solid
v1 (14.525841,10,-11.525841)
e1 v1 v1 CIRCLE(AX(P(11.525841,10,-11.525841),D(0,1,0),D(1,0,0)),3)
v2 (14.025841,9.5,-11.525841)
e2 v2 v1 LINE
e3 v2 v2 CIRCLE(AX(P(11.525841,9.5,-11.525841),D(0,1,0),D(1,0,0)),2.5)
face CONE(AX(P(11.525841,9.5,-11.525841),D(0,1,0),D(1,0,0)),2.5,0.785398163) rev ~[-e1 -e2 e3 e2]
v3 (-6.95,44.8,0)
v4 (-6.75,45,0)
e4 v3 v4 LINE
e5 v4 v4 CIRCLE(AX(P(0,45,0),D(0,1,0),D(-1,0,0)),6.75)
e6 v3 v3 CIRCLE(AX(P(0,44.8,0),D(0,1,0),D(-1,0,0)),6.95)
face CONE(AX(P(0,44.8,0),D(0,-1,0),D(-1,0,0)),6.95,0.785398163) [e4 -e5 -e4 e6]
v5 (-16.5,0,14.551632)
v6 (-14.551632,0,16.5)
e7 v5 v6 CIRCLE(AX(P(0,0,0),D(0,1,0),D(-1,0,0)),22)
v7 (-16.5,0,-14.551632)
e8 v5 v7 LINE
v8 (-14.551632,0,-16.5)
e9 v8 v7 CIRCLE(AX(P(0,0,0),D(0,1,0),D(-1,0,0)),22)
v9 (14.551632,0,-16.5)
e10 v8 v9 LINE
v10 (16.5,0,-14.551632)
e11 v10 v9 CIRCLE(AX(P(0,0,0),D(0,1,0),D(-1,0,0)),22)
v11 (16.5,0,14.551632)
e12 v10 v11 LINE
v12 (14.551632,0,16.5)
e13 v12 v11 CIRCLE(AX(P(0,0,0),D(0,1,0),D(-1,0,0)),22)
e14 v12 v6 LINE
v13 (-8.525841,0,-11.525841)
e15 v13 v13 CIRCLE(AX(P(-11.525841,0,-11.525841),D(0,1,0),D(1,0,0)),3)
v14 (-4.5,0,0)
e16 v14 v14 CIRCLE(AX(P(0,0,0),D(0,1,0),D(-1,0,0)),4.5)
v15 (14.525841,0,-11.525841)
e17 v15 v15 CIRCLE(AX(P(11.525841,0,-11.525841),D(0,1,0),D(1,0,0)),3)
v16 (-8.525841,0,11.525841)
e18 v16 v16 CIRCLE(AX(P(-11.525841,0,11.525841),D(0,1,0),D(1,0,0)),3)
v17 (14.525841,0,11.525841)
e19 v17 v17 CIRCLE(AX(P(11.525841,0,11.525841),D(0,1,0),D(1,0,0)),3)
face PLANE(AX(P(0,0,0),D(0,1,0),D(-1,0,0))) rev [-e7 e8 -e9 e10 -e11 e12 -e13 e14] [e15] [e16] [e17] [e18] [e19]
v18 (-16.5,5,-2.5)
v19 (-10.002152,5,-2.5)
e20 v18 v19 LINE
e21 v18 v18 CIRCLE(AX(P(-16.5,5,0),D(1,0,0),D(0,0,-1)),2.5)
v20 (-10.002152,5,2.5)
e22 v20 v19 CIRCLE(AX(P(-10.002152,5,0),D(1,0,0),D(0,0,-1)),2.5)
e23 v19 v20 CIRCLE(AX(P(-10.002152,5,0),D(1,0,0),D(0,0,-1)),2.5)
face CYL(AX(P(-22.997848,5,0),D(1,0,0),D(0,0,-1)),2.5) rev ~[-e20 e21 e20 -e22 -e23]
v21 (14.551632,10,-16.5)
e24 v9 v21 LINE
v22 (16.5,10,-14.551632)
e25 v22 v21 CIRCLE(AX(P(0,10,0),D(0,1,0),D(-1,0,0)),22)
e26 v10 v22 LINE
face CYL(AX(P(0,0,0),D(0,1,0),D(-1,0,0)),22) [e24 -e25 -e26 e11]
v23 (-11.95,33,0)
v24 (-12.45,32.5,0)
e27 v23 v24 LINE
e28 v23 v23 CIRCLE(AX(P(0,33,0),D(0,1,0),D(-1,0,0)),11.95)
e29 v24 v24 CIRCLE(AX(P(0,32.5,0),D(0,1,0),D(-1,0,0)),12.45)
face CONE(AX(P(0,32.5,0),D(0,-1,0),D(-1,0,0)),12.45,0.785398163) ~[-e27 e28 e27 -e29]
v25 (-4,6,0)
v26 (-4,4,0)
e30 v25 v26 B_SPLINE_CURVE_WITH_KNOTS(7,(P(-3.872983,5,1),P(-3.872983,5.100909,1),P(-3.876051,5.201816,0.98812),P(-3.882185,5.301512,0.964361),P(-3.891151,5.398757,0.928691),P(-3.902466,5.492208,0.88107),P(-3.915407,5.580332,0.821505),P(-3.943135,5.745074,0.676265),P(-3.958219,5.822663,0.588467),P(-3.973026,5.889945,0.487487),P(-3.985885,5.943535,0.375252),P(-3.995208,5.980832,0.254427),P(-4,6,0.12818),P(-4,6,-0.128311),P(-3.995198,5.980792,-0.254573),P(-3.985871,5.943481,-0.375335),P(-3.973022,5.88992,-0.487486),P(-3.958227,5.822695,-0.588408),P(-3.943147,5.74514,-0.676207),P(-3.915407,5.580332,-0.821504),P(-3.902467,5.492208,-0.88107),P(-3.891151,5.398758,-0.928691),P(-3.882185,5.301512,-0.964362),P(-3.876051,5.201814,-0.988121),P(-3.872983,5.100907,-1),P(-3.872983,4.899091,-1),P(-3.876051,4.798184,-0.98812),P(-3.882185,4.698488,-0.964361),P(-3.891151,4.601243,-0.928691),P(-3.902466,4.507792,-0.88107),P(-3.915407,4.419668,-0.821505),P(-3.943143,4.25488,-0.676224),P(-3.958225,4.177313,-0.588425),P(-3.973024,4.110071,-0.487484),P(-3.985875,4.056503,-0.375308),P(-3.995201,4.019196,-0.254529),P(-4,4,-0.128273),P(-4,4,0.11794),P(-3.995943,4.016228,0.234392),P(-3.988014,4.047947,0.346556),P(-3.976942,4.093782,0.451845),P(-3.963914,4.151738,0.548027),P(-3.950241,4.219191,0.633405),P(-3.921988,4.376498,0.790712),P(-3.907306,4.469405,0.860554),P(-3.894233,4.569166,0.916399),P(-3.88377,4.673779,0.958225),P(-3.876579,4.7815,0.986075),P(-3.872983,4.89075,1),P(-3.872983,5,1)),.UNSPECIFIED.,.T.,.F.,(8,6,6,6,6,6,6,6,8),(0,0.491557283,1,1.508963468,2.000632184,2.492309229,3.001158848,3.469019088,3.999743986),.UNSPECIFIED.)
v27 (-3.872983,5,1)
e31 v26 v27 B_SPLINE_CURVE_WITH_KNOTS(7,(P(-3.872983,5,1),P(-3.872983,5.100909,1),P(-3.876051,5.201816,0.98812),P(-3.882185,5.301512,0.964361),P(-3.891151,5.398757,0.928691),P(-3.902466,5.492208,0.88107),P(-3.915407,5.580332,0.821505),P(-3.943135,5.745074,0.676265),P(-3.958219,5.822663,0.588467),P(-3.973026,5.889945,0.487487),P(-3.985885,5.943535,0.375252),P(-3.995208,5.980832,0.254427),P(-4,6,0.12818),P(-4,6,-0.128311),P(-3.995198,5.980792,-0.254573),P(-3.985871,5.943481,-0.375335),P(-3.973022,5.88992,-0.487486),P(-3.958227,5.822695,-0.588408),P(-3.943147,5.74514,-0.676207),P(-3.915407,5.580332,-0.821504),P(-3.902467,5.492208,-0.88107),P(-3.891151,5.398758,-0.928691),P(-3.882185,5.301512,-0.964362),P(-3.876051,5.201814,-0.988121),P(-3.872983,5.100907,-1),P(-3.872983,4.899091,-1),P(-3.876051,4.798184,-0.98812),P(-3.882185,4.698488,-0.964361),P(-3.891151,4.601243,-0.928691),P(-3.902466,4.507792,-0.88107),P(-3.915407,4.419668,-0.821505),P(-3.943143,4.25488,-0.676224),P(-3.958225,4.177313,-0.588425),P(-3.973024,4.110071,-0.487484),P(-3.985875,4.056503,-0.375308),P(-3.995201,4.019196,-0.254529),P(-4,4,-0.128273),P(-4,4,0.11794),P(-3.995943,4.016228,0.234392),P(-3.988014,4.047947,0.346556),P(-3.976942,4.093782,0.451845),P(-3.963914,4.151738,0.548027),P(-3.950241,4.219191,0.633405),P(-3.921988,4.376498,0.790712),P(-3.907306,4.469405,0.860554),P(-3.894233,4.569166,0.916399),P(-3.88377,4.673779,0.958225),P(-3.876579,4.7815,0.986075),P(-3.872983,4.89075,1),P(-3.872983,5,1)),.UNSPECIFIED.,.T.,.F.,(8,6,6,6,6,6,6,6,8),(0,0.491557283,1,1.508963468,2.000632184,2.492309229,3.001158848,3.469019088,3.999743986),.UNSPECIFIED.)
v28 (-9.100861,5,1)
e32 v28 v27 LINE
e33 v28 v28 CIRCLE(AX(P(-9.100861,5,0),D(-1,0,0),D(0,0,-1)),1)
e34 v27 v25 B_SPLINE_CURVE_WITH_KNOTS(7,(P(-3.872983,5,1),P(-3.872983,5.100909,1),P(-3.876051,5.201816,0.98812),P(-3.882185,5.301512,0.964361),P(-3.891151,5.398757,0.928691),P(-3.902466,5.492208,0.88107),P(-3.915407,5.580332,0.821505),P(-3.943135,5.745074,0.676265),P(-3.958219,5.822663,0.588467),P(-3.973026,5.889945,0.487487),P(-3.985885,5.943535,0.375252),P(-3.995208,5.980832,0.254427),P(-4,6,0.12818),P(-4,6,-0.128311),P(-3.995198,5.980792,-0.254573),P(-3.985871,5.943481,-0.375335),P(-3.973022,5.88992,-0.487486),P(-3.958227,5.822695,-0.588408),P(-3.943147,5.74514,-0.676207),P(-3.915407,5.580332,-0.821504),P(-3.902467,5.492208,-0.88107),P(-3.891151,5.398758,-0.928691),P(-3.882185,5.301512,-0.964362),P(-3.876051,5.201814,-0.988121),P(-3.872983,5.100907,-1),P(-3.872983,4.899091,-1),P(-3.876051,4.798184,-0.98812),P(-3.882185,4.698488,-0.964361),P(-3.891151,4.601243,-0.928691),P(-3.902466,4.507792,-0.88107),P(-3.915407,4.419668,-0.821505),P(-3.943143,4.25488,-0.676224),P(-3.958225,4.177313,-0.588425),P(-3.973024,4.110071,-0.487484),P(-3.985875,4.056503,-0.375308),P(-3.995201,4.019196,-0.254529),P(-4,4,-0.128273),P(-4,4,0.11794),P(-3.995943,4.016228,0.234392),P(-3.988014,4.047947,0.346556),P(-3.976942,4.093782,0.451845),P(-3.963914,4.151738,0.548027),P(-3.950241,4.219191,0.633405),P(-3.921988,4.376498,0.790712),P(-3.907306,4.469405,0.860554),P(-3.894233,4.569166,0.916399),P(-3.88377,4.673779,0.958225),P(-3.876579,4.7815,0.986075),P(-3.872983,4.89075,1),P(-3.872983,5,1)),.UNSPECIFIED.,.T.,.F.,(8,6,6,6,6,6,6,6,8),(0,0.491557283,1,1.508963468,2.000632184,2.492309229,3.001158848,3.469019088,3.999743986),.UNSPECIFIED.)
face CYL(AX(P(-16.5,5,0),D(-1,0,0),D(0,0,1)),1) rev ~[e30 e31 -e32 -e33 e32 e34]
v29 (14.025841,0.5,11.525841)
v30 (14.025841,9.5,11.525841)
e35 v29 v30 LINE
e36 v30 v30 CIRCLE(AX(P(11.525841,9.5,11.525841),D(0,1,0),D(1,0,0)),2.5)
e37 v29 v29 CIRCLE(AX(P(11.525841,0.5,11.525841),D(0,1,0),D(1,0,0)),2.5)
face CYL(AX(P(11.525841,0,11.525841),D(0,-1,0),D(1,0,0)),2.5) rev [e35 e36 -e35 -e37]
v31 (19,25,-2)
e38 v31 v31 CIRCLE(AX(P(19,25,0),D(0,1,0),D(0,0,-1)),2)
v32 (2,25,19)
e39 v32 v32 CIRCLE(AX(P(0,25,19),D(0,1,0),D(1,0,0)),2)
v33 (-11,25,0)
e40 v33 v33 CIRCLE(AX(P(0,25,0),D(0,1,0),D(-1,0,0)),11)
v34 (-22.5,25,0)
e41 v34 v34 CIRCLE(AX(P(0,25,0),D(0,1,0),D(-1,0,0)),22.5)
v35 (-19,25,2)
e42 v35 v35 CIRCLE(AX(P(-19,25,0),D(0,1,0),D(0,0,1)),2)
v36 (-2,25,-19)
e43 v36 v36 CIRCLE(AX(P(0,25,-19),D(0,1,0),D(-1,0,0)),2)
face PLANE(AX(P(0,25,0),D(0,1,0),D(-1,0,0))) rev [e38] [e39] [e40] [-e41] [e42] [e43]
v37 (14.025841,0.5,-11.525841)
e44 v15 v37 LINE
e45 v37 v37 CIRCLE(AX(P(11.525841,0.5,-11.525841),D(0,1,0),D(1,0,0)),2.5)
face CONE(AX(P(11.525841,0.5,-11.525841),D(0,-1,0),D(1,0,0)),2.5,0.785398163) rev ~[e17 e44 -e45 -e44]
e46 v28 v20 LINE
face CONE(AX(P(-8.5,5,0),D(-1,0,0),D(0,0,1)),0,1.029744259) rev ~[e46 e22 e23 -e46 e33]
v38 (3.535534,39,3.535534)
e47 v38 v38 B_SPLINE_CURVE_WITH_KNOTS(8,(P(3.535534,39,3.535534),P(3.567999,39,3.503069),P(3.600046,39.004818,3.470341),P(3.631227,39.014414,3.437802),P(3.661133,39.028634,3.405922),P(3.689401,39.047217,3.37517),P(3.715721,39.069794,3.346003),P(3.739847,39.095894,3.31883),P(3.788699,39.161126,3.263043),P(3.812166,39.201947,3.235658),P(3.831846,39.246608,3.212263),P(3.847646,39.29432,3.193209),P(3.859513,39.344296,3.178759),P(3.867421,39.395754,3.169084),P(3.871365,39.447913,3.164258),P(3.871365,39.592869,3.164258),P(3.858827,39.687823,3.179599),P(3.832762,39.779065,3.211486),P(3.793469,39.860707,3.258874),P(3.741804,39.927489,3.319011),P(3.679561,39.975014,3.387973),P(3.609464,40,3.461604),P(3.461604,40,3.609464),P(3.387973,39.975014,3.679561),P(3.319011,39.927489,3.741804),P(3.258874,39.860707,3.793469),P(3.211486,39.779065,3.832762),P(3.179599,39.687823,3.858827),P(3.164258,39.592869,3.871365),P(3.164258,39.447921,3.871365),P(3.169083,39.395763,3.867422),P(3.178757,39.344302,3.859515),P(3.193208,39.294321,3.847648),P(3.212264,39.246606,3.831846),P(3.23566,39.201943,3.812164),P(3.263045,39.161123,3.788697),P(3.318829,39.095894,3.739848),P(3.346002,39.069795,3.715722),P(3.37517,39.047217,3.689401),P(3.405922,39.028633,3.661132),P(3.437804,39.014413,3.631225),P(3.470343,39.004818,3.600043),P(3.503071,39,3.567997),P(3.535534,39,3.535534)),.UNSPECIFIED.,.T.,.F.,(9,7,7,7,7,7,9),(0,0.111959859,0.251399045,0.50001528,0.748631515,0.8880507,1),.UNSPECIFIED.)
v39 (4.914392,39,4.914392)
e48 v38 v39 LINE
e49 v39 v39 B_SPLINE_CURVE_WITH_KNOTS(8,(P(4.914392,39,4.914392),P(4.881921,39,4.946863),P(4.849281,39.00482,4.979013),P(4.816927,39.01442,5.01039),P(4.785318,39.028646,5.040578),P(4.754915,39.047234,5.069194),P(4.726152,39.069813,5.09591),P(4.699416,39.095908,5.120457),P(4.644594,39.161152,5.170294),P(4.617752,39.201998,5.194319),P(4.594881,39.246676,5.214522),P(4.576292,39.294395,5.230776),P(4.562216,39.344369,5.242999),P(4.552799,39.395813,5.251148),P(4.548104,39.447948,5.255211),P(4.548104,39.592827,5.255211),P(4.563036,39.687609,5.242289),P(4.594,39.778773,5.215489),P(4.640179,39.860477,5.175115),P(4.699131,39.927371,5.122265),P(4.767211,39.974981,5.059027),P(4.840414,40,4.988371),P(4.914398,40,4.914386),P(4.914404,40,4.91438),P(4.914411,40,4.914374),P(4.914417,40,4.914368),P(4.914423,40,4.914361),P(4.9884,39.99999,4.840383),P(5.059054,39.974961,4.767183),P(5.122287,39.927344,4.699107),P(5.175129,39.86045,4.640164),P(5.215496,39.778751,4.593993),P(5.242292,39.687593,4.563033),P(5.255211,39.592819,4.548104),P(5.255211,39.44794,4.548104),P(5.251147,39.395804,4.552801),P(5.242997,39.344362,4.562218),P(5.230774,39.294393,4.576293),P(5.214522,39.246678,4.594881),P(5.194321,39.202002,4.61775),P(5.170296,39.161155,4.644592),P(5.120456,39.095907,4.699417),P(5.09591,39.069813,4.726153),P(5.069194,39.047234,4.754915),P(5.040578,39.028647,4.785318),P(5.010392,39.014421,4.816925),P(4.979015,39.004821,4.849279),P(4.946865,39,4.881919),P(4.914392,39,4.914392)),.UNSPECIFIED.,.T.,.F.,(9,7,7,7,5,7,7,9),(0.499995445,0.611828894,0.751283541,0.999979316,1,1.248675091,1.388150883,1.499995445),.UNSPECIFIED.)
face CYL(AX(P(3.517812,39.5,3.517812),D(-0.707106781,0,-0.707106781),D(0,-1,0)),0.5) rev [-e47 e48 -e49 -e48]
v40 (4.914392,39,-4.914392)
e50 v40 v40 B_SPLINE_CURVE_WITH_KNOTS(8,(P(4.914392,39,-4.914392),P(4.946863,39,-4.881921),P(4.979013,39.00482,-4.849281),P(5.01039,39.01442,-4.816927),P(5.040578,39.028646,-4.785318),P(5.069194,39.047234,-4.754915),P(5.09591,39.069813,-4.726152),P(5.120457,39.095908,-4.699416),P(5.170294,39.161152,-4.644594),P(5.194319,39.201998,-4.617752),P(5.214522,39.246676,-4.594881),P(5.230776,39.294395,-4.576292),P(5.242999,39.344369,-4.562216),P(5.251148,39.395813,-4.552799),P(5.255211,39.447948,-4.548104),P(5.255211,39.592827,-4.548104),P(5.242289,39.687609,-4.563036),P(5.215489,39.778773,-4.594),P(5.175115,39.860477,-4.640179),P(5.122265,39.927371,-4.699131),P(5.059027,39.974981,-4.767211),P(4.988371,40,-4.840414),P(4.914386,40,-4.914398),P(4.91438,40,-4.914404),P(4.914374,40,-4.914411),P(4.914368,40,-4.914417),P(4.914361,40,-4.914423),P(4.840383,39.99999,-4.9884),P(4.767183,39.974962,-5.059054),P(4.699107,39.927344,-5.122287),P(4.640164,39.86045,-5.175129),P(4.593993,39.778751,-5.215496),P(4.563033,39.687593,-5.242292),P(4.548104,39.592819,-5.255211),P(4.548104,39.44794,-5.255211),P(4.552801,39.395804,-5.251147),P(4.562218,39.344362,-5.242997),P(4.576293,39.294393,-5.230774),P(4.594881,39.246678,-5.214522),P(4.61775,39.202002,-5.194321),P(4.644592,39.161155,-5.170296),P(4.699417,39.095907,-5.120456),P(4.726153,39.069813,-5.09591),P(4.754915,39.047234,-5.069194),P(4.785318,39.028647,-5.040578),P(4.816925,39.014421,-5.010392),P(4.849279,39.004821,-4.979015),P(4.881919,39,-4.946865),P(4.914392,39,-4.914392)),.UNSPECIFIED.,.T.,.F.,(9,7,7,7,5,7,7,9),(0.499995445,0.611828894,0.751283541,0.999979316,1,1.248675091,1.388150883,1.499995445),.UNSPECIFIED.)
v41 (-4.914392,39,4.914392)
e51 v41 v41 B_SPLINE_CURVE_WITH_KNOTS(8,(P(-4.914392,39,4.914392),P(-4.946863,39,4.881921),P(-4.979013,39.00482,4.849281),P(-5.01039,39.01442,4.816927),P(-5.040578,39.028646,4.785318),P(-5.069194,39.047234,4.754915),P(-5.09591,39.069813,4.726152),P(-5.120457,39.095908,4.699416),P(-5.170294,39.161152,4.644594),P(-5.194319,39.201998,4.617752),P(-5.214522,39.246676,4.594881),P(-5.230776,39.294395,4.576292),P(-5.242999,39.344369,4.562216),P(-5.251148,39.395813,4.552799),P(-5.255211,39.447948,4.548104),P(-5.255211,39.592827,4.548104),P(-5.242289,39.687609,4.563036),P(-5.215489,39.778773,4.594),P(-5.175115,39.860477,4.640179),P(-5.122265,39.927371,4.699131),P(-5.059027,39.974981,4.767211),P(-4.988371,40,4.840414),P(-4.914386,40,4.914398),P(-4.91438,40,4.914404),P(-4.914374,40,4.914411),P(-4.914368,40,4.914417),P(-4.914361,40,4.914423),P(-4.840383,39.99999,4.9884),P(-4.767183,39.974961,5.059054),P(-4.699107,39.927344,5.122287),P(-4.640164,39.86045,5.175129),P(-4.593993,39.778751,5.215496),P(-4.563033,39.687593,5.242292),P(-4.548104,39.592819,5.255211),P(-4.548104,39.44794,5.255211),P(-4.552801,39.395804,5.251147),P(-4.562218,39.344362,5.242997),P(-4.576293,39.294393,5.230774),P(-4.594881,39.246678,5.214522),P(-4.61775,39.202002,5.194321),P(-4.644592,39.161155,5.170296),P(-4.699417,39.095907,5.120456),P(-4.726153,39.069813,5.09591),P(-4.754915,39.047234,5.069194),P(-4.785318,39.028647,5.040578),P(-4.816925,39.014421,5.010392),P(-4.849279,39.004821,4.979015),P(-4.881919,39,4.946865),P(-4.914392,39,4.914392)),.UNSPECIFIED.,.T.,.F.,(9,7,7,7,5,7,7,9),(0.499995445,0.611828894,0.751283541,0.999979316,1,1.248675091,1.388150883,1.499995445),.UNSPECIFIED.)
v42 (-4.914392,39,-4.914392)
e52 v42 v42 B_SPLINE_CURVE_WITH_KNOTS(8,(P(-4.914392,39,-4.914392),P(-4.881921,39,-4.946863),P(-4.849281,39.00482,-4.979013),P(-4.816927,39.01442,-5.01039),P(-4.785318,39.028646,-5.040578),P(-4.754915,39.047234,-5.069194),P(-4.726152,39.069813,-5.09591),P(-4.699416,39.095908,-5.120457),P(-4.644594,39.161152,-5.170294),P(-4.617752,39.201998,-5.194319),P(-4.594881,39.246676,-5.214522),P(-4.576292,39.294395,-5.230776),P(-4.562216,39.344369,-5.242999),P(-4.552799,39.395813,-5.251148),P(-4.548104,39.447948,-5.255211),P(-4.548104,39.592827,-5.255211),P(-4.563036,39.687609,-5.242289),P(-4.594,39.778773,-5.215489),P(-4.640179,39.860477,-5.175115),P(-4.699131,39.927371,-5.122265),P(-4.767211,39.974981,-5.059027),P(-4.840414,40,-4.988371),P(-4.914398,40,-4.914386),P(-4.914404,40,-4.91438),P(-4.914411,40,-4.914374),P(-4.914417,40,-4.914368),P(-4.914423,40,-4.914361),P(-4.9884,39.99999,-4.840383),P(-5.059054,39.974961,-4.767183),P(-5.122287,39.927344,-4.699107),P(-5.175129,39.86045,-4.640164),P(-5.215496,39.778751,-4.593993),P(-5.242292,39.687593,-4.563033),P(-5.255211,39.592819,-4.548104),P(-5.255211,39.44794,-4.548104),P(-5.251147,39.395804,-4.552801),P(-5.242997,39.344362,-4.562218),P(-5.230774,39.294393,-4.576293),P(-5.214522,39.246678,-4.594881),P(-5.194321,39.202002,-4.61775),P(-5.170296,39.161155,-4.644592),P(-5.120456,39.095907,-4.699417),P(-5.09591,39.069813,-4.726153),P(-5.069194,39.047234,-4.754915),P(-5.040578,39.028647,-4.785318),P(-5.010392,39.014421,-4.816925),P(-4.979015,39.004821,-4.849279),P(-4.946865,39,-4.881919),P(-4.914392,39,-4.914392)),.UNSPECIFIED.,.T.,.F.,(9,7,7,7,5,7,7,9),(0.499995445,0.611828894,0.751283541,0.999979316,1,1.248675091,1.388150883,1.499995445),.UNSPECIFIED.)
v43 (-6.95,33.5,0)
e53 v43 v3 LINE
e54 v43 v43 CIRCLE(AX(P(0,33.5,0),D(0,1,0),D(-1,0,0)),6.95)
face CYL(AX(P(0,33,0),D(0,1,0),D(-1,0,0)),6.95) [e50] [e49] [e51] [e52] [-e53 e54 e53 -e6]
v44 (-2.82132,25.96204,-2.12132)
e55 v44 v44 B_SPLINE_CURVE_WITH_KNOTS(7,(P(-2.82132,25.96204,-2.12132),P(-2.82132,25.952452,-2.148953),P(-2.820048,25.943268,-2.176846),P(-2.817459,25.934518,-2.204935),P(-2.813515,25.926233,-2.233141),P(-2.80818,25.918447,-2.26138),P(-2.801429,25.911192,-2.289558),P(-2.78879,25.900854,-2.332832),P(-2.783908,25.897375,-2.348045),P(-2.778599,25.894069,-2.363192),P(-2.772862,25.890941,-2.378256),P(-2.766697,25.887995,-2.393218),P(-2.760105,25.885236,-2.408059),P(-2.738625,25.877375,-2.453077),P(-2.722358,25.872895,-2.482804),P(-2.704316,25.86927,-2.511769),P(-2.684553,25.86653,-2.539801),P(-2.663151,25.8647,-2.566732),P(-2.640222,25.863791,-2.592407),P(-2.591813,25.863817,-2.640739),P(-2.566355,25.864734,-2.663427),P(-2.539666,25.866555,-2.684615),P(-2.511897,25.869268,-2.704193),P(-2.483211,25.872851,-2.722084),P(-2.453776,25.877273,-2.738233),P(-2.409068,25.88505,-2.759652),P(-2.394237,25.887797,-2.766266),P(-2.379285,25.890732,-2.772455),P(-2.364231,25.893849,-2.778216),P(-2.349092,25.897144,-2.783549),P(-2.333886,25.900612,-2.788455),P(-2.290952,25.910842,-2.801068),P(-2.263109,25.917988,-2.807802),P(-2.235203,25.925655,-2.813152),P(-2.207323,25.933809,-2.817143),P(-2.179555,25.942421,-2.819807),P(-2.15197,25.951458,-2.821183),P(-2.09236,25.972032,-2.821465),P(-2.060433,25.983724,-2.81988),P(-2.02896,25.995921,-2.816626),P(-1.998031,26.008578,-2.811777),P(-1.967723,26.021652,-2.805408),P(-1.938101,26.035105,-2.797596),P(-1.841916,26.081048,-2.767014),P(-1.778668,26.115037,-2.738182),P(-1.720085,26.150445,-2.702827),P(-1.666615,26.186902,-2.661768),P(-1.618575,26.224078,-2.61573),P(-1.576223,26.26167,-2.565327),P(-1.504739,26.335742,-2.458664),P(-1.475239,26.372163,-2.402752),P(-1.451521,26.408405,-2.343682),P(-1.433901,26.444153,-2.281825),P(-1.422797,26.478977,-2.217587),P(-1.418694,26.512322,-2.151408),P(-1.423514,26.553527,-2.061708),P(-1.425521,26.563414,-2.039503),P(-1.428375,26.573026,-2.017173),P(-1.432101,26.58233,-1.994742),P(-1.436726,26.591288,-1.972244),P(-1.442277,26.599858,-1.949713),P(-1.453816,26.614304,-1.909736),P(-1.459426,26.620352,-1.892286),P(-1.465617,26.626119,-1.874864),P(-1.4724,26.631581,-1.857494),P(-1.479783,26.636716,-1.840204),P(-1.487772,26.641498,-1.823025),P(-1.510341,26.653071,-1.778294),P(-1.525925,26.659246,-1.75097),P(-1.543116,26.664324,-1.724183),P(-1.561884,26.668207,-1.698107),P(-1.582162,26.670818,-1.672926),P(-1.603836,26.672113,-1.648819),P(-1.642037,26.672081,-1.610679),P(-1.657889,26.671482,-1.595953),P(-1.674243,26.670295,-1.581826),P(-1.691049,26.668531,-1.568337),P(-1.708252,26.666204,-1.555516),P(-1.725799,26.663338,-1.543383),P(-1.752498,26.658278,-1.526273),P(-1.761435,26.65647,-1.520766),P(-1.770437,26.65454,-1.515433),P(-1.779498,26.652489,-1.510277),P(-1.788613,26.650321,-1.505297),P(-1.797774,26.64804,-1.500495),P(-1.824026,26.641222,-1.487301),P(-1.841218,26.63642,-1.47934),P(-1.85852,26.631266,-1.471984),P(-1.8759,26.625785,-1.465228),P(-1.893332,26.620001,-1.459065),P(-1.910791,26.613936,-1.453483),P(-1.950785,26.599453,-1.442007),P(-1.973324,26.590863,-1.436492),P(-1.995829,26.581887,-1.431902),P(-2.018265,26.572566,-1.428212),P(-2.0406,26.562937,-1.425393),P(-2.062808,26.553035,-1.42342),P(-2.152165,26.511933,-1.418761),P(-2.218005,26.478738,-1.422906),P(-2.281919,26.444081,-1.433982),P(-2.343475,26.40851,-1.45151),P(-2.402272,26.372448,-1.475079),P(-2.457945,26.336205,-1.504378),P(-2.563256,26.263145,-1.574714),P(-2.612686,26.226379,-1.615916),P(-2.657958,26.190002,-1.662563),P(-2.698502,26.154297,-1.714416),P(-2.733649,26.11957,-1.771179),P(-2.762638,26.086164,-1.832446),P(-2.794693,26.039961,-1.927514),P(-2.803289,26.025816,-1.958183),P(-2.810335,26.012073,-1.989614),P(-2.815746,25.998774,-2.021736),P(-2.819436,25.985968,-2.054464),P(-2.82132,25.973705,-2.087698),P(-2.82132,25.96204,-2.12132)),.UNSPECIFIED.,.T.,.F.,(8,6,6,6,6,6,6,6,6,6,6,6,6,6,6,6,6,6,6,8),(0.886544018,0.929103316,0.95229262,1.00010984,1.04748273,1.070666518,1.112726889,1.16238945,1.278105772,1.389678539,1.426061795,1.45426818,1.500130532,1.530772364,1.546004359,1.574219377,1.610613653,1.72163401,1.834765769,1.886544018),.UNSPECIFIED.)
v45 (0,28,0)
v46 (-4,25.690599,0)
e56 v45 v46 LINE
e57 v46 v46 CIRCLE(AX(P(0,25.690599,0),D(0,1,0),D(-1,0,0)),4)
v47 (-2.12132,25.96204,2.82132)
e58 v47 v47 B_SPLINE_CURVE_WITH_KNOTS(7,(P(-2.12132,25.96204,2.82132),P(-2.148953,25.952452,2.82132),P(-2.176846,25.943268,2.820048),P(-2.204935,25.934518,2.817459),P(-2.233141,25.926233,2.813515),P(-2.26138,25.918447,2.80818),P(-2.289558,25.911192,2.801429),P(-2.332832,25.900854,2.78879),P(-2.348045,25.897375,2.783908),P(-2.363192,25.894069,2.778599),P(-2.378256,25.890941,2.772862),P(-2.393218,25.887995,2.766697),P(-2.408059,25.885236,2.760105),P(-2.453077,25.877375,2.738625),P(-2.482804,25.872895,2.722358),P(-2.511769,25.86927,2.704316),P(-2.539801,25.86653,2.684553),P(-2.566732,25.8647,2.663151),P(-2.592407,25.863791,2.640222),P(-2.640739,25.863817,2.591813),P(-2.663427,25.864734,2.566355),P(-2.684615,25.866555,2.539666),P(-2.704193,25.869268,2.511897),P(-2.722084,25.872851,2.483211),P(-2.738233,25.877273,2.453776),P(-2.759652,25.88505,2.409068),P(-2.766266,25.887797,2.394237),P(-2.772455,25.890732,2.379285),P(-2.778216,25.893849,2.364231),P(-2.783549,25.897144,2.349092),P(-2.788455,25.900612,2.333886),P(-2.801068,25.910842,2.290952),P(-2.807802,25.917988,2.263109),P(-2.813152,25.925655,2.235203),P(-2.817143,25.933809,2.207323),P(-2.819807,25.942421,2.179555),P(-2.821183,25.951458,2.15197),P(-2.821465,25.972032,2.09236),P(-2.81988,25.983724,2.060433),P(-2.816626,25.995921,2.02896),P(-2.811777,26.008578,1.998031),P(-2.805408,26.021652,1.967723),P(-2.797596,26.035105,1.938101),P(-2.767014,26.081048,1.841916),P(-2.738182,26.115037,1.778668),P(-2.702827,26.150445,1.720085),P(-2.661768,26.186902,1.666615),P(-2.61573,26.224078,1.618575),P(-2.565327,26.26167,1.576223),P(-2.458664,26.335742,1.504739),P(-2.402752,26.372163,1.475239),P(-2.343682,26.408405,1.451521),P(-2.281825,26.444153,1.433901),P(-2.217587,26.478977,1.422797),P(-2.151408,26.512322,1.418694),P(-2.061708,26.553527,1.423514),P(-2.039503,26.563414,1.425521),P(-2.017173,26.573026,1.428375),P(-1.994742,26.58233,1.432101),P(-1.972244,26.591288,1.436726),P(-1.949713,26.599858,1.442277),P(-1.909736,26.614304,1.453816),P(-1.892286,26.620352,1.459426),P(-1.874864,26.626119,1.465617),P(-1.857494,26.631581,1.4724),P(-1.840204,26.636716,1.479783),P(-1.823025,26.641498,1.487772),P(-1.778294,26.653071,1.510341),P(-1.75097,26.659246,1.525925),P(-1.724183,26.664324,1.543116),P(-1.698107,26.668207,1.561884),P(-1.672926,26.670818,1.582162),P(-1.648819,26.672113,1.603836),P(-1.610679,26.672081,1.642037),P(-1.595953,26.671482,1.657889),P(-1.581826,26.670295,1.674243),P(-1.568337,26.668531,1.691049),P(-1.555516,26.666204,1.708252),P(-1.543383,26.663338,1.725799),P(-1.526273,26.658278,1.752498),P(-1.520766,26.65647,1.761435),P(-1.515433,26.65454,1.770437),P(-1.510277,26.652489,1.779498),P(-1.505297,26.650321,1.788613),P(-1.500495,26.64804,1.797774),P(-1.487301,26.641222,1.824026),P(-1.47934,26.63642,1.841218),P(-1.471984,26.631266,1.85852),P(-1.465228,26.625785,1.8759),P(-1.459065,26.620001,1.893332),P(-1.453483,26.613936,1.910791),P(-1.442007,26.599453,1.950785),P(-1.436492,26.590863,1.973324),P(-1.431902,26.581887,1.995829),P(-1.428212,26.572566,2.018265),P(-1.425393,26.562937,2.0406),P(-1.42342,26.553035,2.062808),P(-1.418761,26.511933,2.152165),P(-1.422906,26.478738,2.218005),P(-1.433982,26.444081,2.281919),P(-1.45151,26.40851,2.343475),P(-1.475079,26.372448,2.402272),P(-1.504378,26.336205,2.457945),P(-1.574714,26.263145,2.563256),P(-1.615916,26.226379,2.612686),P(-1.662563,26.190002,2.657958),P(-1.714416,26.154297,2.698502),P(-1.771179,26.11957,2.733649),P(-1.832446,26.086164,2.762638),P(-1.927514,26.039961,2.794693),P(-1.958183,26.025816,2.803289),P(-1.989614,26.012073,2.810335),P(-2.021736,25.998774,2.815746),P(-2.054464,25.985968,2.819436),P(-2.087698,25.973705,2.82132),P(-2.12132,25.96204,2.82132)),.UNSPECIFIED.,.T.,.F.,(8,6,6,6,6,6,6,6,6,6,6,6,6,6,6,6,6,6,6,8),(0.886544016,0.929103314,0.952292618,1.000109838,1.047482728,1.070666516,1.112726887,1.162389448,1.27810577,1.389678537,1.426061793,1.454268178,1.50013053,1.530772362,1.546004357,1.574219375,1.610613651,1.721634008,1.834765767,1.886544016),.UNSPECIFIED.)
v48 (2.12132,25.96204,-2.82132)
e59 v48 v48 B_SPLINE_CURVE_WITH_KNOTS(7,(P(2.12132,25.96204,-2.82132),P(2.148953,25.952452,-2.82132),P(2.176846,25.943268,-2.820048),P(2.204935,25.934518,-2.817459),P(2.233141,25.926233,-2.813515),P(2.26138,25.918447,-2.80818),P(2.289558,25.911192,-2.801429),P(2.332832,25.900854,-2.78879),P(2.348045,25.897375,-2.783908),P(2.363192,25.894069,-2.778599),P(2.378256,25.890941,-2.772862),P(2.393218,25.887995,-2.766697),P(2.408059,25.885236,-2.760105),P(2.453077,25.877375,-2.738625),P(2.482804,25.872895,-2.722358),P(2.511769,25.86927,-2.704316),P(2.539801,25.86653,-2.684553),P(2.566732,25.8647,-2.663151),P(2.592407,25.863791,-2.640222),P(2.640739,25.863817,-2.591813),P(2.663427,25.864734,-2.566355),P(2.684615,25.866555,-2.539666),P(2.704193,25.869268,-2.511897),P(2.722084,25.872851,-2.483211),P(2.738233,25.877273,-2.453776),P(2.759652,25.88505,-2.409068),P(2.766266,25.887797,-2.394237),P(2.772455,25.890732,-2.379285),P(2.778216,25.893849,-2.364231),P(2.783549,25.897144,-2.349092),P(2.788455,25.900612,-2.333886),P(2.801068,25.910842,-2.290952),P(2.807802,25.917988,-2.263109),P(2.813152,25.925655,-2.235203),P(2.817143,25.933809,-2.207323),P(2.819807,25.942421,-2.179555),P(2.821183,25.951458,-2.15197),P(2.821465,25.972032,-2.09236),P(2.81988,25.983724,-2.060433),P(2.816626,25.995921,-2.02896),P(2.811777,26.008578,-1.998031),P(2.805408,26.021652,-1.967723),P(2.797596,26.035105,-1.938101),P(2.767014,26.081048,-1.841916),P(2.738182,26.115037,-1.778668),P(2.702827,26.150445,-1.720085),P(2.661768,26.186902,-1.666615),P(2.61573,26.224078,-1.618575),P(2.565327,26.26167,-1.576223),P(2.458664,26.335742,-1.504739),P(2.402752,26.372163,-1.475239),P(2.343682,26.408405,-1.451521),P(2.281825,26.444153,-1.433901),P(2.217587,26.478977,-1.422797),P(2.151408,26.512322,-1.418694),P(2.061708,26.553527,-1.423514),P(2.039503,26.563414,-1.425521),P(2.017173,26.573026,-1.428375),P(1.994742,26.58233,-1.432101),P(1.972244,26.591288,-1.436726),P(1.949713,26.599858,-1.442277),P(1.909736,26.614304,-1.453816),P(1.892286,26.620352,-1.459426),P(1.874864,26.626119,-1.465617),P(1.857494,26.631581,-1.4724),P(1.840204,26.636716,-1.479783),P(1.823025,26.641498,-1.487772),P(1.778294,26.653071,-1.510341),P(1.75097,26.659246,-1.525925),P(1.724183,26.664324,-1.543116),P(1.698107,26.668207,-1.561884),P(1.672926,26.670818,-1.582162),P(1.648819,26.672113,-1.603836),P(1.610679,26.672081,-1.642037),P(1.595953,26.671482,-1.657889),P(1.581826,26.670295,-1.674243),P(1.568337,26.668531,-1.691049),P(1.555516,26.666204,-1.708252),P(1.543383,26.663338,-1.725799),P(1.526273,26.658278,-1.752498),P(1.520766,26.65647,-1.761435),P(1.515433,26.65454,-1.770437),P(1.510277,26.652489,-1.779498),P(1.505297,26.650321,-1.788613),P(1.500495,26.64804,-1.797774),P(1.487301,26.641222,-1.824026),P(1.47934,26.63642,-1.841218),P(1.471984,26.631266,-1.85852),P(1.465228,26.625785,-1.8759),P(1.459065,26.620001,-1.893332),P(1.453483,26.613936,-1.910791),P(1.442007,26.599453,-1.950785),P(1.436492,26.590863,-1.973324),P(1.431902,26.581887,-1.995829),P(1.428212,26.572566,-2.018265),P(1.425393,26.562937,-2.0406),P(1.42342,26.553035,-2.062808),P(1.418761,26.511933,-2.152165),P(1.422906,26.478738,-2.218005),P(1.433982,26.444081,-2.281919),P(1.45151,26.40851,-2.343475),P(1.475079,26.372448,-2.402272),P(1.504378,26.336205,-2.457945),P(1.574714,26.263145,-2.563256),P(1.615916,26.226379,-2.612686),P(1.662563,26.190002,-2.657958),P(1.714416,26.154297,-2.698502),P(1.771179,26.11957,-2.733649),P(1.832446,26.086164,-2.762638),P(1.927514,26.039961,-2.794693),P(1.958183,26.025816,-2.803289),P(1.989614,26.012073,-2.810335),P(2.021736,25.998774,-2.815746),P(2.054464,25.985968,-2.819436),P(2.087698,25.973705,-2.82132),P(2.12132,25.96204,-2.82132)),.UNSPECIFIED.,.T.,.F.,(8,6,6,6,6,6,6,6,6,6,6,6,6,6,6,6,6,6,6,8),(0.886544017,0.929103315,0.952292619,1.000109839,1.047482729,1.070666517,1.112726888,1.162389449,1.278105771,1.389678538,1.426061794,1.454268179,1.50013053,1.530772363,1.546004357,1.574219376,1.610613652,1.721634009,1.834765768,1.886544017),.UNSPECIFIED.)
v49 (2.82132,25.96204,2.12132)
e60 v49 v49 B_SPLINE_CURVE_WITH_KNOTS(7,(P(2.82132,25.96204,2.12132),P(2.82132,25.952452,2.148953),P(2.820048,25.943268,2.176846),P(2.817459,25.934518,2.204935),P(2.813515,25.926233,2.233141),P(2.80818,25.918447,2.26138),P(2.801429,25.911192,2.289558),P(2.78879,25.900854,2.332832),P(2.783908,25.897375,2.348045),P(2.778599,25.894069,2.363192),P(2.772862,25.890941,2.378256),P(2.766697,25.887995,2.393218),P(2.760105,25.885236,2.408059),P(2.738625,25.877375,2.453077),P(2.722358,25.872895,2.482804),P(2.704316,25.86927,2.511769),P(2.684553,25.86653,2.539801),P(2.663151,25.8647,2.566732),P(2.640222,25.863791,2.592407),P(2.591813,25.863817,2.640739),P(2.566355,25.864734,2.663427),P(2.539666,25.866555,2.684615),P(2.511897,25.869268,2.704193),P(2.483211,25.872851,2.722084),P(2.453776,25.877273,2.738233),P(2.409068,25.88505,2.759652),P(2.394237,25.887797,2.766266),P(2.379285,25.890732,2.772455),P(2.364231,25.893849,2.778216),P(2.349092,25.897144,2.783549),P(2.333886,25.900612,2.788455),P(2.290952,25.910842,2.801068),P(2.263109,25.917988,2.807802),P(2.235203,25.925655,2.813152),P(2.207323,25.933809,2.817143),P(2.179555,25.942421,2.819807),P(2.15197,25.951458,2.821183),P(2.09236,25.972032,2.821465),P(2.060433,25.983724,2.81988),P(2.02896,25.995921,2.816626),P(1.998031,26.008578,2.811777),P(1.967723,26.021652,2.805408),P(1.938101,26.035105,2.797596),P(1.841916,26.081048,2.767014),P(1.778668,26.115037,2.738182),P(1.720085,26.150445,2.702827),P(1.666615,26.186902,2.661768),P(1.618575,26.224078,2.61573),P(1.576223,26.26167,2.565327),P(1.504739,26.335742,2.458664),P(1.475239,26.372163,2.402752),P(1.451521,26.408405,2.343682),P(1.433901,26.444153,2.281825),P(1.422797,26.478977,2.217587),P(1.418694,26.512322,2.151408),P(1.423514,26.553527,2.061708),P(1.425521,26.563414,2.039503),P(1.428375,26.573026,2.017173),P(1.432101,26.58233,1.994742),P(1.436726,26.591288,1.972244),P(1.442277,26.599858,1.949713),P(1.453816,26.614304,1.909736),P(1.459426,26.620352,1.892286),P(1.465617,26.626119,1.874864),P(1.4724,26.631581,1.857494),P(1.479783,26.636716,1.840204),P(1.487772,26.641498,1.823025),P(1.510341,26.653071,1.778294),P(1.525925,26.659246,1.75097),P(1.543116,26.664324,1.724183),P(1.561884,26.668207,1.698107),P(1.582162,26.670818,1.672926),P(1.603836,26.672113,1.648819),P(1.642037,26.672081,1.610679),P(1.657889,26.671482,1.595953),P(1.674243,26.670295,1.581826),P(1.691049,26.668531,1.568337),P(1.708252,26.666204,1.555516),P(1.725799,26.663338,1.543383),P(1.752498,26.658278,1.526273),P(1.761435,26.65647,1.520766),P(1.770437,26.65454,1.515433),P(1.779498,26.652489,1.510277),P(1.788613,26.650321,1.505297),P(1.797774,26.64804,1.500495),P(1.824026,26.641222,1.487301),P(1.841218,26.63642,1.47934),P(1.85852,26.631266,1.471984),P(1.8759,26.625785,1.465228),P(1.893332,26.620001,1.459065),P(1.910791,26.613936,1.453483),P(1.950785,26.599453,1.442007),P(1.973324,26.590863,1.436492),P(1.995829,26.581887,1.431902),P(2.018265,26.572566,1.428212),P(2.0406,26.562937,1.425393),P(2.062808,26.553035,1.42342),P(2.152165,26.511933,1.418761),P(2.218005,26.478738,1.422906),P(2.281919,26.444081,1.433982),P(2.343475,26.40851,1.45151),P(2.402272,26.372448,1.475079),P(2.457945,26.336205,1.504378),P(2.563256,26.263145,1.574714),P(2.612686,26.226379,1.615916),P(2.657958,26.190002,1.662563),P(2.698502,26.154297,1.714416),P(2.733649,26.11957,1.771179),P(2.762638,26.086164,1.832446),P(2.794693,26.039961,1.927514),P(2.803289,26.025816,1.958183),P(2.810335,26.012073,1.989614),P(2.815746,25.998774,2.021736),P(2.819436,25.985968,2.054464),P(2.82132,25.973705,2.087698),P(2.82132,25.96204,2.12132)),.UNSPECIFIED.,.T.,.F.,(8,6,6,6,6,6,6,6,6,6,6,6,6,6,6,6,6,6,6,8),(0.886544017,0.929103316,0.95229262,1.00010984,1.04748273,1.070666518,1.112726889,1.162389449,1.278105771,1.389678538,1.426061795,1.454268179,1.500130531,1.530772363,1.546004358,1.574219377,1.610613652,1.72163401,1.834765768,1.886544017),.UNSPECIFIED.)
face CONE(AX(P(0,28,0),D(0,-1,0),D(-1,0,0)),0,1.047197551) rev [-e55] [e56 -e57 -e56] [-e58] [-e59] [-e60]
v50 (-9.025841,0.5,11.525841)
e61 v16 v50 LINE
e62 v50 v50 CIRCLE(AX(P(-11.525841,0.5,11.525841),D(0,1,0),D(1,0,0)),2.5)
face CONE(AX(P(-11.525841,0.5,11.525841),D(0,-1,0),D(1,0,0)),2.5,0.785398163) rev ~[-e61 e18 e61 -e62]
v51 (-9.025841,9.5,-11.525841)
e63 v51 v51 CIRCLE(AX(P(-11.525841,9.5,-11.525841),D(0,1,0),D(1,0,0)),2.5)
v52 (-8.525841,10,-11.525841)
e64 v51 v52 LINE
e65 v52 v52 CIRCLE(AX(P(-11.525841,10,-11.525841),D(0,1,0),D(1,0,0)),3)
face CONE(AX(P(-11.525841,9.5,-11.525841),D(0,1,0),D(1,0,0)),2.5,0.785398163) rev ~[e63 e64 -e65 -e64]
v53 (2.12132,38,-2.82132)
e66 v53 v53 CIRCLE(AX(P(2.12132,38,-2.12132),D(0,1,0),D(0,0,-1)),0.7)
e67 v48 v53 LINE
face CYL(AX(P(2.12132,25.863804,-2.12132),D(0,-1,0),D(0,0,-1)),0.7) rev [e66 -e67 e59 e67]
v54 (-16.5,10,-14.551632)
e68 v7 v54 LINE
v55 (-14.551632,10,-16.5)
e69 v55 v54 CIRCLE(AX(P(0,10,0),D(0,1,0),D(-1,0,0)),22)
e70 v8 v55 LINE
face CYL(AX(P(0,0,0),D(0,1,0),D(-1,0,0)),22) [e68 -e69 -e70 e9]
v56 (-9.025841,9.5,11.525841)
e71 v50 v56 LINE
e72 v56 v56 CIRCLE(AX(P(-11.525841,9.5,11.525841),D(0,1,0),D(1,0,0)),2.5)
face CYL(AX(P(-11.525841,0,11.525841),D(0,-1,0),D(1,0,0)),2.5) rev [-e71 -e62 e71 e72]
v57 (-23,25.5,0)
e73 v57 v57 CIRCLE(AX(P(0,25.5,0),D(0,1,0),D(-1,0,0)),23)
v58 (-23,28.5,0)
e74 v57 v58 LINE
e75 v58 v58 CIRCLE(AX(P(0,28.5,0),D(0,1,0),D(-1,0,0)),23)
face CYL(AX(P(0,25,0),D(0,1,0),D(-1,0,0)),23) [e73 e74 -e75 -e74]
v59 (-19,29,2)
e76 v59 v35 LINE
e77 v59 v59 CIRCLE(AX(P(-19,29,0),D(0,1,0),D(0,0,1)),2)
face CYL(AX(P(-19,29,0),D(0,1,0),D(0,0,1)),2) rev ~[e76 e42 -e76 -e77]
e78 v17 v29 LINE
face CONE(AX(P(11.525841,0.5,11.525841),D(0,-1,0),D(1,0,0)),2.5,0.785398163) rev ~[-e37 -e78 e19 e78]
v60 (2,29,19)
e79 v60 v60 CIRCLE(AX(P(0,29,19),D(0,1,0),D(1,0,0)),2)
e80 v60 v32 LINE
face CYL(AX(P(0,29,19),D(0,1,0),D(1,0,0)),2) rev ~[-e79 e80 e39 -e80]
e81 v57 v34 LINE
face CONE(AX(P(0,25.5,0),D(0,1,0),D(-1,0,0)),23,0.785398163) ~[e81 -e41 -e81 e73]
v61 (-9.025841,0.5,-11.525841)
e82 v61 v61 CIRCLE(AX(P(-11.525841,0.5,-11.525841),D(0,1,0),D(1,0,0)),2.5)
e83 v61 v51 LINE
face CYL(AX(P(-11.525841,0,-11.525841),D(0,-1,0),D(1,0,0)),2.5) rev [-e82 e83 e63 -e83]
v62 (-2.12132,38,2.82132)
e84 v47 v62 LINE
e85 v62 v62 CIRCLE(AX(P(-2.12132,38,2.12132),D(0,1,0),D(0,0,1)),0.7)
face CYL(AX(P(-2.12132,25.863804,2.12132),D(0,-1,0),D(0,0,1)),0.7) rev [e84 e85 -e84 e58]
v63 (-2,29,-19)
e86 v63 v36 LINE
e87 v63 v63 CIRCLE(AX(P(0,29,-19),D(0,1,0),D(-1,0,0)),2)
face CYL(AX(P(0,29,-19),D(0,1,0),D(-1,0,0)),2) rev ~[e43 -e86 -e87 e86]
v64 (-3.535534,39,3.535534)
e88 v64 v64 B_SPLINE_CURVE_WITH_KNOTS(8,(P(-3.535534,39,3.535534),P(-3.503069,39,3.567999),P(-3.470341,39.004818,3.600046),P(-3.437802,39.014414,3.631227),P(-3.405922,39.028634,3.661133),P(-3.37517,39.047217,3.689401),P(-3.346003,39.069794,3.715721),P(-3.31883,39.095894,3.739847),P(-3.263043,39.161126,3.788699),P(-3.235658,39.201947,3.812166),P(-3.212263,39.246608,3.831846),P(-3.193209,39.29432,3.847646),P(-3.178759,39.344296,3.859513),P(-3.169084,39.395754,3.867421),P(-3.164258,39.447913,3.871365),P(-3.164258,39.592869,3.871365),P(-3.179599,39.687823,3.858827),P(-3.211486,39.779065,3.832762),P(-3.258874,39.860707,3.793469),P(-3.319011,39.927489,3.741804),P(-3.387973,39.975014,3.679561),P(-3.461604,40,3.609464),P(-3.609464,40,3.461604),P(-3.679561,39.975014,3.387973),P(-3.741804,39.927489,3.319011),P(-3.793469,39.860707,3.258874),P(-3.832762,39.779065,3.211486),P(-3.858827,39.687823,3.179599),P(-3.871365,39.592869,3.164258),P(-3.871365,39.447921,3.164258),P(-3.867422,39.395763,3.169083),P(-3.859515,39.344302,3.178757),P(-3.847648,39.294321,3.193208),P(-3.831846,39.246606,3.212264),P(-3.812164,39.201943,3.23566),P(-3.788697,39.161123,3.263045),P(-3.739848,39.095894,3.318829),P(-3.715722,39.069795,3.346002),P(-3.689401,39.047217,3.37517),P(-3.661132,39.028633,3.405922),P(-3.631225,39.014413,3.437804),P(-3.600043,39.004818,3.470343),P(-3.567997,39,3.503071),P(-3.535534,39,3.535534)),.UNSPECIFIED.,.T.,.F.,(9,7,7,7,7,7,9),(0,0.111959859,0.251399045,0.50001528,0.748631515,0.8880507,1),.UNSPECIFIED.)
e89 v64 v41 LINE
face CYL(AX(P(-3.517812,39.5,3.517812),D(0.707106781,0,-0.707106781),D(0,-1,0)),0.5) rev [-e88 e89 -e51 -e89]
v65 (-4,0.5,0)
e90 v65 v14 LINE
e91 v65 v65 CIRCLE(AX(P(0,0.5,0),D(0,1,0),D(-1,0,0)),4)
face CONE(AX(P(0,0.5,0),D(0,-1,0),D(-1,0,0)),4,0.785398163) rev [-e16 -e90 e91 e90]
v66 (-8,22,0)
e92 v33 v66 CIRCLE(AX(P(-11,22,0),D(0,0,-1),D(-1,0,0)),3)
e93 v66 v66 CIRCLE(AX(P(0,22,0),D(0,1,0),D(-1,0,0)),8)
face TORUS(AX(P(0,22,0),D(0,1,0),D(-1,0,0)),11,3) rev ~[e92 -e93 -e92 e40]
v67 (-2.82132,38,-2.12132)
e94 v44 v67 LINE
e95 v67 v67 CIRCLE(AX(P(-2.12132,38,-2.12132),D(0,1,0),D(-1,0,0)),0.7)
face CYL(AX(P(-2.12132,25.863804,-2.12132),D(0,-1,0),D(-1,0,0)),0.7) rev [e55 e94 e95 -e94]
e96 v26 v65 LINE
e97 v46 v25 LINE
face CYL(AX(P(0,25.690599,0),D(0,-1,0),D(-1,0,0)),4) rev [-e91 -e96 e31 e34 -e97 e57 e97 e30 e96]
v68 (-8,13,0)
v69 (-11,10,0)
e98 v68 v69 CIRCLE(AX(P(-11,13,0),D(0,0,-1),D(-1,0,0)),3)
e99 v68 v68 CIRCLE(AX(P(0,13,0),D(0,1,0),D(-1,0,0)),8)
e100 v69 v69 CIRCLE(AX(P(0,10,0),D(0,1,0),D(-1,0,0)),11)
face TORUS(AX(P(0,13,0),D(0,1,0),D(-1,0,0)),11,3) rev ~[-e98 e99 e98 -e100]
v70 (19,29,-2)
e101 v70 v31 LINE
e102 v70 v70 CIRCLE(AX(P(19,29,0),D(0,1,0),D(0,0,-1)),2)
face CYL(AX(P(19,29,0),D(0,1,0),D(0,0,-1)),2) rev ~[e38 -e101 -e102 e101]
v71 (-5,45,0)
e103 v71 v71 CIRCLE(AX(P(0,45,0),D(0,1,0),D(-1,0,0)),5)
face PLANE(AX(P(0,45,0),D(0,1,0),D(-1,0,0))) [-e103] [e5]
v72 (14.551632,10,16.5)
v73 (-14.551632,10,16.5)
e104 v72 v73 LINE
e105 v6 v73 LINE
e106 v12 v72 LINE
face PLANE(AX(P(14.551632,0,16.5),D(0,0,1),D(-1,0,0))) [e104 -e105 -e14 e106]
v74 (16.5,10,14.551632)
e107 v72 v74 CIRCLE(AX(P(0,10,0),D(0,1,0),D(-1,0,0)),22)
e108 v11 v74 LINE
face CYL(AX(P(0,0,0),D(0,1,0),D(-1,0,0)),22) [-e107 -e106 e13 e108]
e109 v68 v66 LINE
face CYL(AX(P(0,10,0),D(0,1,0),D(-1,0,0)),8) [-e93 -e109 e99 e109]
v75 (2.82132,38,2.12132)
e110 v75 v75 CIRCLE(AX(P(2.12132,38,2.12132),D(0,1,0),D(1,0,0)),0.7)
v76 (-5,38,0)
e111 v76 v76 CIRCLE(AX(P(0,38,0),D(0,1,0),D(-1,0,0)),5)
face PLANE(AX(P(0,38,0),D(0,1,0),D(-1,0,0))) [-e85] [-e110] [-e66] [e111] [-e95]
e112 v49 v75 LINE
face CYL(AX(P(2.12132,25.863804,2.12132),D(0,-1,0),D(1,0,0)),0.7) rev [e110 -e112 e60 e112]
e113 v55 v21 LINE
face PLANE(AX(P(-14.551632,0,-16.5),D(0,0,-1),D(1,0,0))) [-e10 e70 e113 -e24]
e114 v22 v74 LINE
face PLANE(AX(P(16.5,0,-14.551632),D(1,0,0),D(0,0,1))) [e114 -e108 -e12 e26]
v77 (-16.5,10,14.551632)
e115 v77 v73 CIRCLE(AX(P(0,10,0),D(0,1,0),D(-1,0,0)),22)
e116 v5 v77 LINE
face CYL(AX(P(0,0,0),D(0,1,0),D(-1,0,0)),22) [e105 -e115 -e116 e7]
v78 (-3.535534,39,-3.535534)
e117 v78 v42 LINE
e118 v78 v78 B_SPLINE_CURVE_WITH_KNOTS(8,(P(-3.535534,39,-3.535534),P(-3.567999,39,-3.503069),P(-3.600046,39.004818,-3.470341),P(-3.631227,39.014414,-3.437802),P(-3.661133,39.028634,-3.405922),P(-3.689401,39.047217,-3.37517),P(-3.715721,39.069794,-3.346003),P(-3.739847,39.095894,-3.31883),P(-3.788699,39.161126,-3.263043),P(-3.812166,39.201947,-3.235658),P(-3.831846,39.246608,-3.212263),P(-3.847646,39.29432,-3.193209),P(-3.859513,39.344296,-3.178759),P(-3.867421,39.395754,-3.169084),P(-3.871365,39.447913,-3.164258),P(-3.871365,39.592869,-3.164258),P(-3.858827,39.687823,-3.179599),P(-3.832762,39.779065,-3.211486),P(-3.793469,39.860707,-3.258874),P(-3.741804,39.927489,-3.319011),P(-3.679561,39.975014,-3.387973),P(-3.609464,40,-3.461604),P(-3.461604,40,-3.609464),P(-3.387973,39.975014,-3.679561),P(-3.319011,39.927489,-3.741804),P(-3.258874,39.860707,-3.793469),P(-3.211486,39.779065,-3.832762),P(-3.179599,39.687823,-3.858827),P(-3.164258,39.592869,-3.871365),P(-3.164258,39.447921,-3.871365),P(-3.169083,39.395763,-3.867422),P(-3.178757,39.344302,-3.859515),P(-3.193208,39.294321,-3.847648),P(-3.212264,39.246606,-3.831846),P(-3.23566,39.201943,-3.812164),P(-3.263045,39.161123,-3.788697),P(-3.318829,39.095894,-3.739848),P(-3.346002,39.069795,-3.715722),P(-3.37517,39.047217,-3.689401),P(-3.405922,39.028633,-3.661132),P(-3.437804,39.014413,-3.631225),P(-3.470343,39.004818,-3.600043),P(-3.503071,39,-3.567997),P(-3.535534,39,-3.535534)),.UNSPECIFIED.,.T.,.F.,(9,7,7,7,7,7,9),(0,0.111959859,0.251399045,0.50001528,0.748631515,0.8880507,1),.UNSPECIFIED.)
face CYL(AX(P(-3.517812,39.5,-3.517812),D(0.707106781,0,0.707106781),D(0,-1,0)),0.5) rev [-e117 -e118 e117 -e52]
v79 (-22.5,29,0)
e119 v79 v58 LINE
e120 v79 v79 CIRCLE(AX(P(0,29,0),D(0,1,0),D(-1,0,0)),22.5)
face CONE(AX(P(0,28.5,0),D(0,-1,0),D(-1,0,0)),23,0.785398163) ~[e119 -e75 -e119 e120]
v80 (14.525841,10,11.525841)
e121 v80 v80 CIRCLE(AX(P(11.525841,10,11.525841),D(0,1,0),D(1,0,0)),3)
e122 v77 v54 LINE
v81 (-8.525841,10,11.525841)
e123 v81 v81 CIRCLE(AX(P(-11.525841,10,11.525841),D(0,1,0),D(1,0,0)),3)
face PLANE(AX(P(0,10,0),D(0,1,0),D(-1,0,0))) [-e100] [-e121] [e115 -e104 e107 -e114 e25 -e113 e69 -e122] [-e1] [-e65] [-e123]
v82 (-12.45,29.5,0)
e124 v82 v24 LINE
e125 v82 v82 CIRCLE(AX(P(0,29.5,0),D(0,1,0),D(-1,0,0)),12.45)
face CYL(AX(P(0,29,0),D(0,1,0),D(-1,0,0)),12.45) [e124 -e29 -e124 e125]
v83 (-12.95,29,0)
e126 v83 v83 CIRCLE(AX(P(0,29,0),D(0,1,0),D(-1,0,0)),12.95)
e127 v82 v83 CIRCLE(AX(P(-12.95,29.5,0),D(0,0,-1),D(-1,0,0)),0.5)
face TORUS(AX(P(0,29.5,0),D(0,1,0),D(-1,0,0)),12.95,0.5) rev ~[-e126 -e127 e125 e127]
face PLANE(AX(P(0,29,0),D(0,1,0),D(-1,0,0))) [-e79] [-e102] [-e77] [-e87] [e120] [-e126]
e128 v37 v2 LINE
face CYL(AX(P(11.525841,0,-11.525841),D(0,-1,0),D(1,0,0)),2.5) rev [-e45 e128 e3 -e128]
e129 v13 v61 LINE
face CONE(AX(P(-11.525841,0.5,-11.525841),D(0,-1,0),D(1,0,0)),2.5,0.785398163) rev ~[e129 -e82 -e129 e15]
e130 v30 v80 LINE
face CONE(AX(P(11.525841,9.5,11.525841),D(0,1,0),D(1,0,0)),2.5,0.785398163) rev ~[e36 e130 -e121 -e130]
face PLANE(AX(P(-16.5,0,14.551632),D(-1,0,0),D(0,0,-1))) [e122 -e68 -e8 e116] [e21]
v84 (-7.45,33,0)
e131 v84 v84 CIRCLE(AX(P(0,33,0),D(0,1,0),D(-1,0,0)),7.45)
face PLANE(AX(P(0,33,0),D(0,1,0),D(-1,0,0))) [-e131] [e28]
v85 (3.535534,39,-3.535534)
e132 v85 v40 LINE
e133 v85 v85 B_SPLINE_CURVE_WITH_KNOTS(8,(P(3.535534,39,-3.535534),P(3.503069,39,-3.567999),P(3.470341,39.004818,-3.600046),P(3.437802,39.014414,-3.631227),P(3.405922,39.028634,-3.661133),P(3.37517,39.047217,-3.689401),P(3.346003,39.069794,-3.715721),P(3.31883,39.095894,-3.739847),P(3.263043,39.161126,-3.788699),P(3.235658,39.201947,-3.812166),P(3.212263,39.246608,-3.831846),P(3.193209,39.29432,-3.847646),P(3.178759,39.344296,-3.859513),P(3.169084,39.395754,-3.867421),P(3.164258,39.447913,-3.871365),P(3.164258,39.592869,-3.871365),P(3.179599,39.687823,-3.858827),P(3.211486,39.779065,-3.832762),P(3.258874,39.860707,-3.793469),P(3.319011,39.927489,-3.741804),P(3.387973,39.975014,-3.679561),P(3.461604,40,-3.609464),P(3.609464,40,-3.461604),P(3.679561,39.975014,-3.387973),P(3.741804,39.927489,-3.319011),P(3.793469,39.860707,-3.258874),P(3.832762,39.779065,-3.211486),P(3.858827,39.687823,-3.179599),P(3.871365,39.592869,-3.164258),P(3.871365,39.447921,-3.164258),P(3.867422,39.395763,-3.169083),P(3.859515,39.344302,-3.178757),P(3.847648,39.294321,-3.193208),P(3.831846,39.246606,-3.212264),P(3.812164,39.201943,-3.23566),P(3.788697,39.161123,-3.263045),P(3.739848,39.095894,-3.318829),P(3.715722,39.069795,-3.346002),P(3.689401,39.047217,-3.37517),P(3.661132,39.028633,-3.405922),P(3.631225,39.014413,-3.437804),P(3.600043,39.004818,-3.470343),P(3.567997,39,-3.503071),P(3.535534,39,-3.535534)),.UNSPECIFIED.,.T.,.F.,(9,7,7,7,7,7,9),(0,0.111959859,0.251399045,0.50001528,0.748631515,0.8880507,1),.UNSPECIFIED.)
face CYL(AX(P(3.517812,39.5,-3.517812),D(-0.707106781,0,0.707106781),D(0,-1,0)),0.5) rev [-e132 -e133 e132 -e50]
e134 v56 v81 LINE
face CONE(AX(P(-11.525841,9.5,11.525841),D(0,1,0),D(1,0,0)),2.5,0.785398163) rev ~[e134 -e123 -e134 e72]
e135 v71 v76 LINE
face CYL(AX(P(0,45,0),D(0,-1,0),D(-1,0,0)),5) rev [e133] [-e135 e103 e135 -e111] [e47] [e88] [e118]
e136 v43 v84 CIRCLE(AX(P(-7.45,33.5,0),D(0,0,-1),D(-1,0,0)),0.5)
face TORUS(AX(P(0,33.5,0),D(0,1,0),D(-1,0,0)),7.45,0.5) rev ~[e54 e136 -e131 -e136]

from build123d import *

# Parameters (mm, degrees)
SKETCH1_R                    = 2.5
CUT_EXTRUDE1_DEPTH           = 10
SKETCH4_R                    = 2
CUT_EXTRUDE2_DEPTH           = 4
CIRPATTERN1_COUNT            = 4
CUT_EXTRUDE3_START           = -12.136196
SKETCH5_R                    = 0.7
CUT_EXTRUDE3_DEPTH           = 12.136196
CUT_EXTRUDE4_START           = -1.975063
SKETCH6_R                    = 0.5
CUT_EXTRUDE4_DEPTH           = 1.975063
CIRPATTERN2_COUNT            = 4
CUT_EXTRUDE7_REACH           = 41.5
SKETCH8_R                    = 1
F_5_0_5_DIAMETER_HOLE1_D     = 5
F_5_0_5_DIAMETER_HOLE1_DEPTH = 6.497848452
F_5_0_5_DIAMETER_HOLE1_TIP   = 1.502151548
FILLET1_R                    = 0.5
CHAMFER1_SIZE                = 0.5
FILLET2_R                    = 3
FASE1_SIZE                   = 0.2


with BuildPart() as part:
    # Sketch3 → Revolve1 (revolve)
    with BuildSketch(Plane.XY):
        Polygon((-6.95, 45), (-5, 45), (-5, 38), (0, 38), (0, 28), (-4, 25.690598923), (-4, 0), (-22, 0), (-22, 10), (-8, 10), (-8, 25), (-23, 25), (-23, 29), (-12.45, 29), (-12.45, 33), (-6.95, 33), align=None)
    revolve(axis=Axis((0, 0, 0), (0, 1, 0)))

    # Sketch1 → Cut-Extrude1 (cut)
    with BuildSketch(Plane(origin=(0, 0, 0), x_dir=(1, 0, 0), z_dir=(0, 1, 0))):
        with BuildLine():
            ThreePointArc((14.551632211, 16.5), (0, 22), (-14.551632211, 16.5))
            Line((-14.551632211, 16.5), (14.551632211, 16.5))
        make_face()
        with BuildLine():
            Line((-16.5, -14.551632211), (-16.5, 14.551632211))
            ThreePointArc((-16.5, 14.551632211), (-22, 0), (-16.5, -14.551632211))
        make_face()
        with BuildLine():
            ThreePointArc((16.5, -14.551632211), (22, 0), (16.5, 14.551632211))
            Line((16.5, 14.551632211), (16.5, -14.551632211))
        make_face()
        with BuildLine():
            Line((14.551632211, -16.5), (-14.551632211, -16.5))
            ThreePointArc((-14.551632211, -16.5), (0, -22), (14.551632211, -16.5))
        make_face()
        with Locations((-11.525840533, 11.525840533)):
            Circle(SKETCH1_R)
        with Locations((11.525840533, 11.525840533)):
            Circle(SKETCH1_R)
        with Locations((11.525840533, -11.525840533)):
            Circle(SKETCH1_R)
        with Locations((-11.525840533, -11.525840533)):
            Circle(SKETCH1_R)
    extrude(amount=CUT_EXTRUDE1_DEPTH, mode=Mode.SUBTRACT)

    # Sketch4 → Cut-Extrude2 (cut)
    with BuildSketch(Plane(origin=(0, 29, 0), x_dir=(1, 0, 0), z_dir=(0, 1, 0))):
        with Locations((0, -19)):
            Circle(SKETCH4_R)
    cut_extrude2 = extrude(amount=-CUT_EXTRUDE2_DEPTH, mode=Mode.SUBTRACT)

    # CirPattern1: Cut-Extrude2 ×4 about axis
    cirpattern1_axis = Axis((0, 0, 0), (0, 1, 0))
    for i in range(1, CIRPATTERN1_COUNT):
        add(cut_extrude2.rotate(cirpattern1_axis, i * 360 / CIRPATTERN1_COUNT), mode=Mode.SUBTRACT)

    # Sketch5 → Cut-Extrude3 (cut)
    with BuildSketch(Plane(origin=(0, 38, 0), x_dir=(1, 0, 0), z_dir=(0, 1, 0)).offset(CUT_EXTRUDE3_START)):
        with Locations((2.121320344, -2.121320344)):
            Circle(SKETCH5_R)
    cut_extrude3 = extrude(amount=CUT_EXTRUDE3_DEPTH, mode=Mode.SUBTRACT)

    # Sketch6 → Cut-Extrude4 (cut)
    with BuildSketch(Plane(origin=(4.914392129, 0, -4.914392129), x_dir=(0, -1, 0), z_dir=(0.707106781, 0, -0.707106781)).offset(CUT_EXTRUDE4_START)):
        with Locations((-39.5, 0)):
            Circle(SKETCH6_R)
    cut_extrude4 = extrude(amount=CUT_EXTRUDE4_DEPTH, mode=Mode.SUBTRACT)

    # CirPattern2: Cut-Extrude3, Cut-Extrude4 ×4 about axis
    cirpattern2_axis = Axis((0, 0, 0), (0, 1, 0))
    for i in range(1, CIRPATTERN2_COUNT):
        add(cut_extrude3.rotate(cirpattern2_axis, i * 360 / CIRPATTERN2_COUNT), mode=Mode.SUBTRACT)
        add(cut_extrude4.rotate(cirpattern2_axis, i * 360 / CIRPATTERN2_COUNT), mode=Mode.SUBTRACT)

    # Sketch8 → Cut-Extrude7 (cut, up to next)
    with BuildSketch(Plane.ZY.offset(16.5), mode=Mode.PRIVATE) as cut_extrude7_sk1:
        with Locations((0, 5)):
            Circle(SKETCH8_R)
    cut_extrude7_tool1 = extrude(cut_extrude7_sk1.sketch, amount=-CUT_EXTRUDE7_REACH, mode=Mode.PRIVATE) & part.part
    add(cut_extrude7_tool1.solids().sort_by_distance((-16.5, 5, 0))[0], mode=Mode.SUBTRACT)

    # Ø5.0 (5) Diameter Hole1
    with Locations(Plane.ZY.offset(16.5)):
        with Locations((0, 5)):
            Hole(F_5_0_5_DIAMETER_HOLE1_D / 2, depth=F_5_0_5_DIAMETER_HOLE1_DEPTH)
            with Locations((0, 0, -(F_5_0_5_DIAMETER_HOLE1_DEPTH + F_5_0_5_DIAMETER_HOLE1_TIP / 2))):  # 118° drill point
                Cone(0, F_5_0_5_DIAMETER_HOLE1_D / 2, F_5_0_5_DIAMETER_HOLE1_TIP, mode=Mode.SUBTRACT)

    # Fillet1
    fillet1_edges = [part.edges().sort_by_distance(p)[0] for p in [
        (6.95, 33, 0),
        (12.45, 29, 0),
    ]]
    fillet(fillet1_edges, radius=FILLET1_R)

    # Chamfer1
    chamfer1_edges = [part.edges().sort_by_distance(p)[0] for p in [
        (4, 0, 0),
        (23, 25, 0),
        (23, 29, 0),
        (12.45, 33, 0),
        (-14.025840533, 10, 11.525840533),
        (-14.025840533, 0, 11.525840533),
        (9.025840533, 10, 11.525840533),
        (9.025840533, 0, 11.525840533),
        (9.025840533, 10, -11.525840533),
        (9.025840533, 0, -11.525840533),
        (-14.025840533, 10, -11.525840533),
        (-14.025840533, 0, -11.525840533),
    ]]
    chamfer(chamfer1_edges, length=CHAMFER1_SIZE)

    # Fillet2
    fillet2_edges = [part.edges().sort_by_distance(p)[0] for p in [
        (8, 10, 0),
        (8, 25, 0),
    ]]
    fillet(fillet2_edges, radius=FILLET2_R)

    # Fase1
    fase1_edges = [part.edges().sort_by_distance(p)[0] for p in [
        (6.95, 45, 0),
    ]]
    chamfer(fase1_edges, length=FASE1_SIZE)


solid = part.part
